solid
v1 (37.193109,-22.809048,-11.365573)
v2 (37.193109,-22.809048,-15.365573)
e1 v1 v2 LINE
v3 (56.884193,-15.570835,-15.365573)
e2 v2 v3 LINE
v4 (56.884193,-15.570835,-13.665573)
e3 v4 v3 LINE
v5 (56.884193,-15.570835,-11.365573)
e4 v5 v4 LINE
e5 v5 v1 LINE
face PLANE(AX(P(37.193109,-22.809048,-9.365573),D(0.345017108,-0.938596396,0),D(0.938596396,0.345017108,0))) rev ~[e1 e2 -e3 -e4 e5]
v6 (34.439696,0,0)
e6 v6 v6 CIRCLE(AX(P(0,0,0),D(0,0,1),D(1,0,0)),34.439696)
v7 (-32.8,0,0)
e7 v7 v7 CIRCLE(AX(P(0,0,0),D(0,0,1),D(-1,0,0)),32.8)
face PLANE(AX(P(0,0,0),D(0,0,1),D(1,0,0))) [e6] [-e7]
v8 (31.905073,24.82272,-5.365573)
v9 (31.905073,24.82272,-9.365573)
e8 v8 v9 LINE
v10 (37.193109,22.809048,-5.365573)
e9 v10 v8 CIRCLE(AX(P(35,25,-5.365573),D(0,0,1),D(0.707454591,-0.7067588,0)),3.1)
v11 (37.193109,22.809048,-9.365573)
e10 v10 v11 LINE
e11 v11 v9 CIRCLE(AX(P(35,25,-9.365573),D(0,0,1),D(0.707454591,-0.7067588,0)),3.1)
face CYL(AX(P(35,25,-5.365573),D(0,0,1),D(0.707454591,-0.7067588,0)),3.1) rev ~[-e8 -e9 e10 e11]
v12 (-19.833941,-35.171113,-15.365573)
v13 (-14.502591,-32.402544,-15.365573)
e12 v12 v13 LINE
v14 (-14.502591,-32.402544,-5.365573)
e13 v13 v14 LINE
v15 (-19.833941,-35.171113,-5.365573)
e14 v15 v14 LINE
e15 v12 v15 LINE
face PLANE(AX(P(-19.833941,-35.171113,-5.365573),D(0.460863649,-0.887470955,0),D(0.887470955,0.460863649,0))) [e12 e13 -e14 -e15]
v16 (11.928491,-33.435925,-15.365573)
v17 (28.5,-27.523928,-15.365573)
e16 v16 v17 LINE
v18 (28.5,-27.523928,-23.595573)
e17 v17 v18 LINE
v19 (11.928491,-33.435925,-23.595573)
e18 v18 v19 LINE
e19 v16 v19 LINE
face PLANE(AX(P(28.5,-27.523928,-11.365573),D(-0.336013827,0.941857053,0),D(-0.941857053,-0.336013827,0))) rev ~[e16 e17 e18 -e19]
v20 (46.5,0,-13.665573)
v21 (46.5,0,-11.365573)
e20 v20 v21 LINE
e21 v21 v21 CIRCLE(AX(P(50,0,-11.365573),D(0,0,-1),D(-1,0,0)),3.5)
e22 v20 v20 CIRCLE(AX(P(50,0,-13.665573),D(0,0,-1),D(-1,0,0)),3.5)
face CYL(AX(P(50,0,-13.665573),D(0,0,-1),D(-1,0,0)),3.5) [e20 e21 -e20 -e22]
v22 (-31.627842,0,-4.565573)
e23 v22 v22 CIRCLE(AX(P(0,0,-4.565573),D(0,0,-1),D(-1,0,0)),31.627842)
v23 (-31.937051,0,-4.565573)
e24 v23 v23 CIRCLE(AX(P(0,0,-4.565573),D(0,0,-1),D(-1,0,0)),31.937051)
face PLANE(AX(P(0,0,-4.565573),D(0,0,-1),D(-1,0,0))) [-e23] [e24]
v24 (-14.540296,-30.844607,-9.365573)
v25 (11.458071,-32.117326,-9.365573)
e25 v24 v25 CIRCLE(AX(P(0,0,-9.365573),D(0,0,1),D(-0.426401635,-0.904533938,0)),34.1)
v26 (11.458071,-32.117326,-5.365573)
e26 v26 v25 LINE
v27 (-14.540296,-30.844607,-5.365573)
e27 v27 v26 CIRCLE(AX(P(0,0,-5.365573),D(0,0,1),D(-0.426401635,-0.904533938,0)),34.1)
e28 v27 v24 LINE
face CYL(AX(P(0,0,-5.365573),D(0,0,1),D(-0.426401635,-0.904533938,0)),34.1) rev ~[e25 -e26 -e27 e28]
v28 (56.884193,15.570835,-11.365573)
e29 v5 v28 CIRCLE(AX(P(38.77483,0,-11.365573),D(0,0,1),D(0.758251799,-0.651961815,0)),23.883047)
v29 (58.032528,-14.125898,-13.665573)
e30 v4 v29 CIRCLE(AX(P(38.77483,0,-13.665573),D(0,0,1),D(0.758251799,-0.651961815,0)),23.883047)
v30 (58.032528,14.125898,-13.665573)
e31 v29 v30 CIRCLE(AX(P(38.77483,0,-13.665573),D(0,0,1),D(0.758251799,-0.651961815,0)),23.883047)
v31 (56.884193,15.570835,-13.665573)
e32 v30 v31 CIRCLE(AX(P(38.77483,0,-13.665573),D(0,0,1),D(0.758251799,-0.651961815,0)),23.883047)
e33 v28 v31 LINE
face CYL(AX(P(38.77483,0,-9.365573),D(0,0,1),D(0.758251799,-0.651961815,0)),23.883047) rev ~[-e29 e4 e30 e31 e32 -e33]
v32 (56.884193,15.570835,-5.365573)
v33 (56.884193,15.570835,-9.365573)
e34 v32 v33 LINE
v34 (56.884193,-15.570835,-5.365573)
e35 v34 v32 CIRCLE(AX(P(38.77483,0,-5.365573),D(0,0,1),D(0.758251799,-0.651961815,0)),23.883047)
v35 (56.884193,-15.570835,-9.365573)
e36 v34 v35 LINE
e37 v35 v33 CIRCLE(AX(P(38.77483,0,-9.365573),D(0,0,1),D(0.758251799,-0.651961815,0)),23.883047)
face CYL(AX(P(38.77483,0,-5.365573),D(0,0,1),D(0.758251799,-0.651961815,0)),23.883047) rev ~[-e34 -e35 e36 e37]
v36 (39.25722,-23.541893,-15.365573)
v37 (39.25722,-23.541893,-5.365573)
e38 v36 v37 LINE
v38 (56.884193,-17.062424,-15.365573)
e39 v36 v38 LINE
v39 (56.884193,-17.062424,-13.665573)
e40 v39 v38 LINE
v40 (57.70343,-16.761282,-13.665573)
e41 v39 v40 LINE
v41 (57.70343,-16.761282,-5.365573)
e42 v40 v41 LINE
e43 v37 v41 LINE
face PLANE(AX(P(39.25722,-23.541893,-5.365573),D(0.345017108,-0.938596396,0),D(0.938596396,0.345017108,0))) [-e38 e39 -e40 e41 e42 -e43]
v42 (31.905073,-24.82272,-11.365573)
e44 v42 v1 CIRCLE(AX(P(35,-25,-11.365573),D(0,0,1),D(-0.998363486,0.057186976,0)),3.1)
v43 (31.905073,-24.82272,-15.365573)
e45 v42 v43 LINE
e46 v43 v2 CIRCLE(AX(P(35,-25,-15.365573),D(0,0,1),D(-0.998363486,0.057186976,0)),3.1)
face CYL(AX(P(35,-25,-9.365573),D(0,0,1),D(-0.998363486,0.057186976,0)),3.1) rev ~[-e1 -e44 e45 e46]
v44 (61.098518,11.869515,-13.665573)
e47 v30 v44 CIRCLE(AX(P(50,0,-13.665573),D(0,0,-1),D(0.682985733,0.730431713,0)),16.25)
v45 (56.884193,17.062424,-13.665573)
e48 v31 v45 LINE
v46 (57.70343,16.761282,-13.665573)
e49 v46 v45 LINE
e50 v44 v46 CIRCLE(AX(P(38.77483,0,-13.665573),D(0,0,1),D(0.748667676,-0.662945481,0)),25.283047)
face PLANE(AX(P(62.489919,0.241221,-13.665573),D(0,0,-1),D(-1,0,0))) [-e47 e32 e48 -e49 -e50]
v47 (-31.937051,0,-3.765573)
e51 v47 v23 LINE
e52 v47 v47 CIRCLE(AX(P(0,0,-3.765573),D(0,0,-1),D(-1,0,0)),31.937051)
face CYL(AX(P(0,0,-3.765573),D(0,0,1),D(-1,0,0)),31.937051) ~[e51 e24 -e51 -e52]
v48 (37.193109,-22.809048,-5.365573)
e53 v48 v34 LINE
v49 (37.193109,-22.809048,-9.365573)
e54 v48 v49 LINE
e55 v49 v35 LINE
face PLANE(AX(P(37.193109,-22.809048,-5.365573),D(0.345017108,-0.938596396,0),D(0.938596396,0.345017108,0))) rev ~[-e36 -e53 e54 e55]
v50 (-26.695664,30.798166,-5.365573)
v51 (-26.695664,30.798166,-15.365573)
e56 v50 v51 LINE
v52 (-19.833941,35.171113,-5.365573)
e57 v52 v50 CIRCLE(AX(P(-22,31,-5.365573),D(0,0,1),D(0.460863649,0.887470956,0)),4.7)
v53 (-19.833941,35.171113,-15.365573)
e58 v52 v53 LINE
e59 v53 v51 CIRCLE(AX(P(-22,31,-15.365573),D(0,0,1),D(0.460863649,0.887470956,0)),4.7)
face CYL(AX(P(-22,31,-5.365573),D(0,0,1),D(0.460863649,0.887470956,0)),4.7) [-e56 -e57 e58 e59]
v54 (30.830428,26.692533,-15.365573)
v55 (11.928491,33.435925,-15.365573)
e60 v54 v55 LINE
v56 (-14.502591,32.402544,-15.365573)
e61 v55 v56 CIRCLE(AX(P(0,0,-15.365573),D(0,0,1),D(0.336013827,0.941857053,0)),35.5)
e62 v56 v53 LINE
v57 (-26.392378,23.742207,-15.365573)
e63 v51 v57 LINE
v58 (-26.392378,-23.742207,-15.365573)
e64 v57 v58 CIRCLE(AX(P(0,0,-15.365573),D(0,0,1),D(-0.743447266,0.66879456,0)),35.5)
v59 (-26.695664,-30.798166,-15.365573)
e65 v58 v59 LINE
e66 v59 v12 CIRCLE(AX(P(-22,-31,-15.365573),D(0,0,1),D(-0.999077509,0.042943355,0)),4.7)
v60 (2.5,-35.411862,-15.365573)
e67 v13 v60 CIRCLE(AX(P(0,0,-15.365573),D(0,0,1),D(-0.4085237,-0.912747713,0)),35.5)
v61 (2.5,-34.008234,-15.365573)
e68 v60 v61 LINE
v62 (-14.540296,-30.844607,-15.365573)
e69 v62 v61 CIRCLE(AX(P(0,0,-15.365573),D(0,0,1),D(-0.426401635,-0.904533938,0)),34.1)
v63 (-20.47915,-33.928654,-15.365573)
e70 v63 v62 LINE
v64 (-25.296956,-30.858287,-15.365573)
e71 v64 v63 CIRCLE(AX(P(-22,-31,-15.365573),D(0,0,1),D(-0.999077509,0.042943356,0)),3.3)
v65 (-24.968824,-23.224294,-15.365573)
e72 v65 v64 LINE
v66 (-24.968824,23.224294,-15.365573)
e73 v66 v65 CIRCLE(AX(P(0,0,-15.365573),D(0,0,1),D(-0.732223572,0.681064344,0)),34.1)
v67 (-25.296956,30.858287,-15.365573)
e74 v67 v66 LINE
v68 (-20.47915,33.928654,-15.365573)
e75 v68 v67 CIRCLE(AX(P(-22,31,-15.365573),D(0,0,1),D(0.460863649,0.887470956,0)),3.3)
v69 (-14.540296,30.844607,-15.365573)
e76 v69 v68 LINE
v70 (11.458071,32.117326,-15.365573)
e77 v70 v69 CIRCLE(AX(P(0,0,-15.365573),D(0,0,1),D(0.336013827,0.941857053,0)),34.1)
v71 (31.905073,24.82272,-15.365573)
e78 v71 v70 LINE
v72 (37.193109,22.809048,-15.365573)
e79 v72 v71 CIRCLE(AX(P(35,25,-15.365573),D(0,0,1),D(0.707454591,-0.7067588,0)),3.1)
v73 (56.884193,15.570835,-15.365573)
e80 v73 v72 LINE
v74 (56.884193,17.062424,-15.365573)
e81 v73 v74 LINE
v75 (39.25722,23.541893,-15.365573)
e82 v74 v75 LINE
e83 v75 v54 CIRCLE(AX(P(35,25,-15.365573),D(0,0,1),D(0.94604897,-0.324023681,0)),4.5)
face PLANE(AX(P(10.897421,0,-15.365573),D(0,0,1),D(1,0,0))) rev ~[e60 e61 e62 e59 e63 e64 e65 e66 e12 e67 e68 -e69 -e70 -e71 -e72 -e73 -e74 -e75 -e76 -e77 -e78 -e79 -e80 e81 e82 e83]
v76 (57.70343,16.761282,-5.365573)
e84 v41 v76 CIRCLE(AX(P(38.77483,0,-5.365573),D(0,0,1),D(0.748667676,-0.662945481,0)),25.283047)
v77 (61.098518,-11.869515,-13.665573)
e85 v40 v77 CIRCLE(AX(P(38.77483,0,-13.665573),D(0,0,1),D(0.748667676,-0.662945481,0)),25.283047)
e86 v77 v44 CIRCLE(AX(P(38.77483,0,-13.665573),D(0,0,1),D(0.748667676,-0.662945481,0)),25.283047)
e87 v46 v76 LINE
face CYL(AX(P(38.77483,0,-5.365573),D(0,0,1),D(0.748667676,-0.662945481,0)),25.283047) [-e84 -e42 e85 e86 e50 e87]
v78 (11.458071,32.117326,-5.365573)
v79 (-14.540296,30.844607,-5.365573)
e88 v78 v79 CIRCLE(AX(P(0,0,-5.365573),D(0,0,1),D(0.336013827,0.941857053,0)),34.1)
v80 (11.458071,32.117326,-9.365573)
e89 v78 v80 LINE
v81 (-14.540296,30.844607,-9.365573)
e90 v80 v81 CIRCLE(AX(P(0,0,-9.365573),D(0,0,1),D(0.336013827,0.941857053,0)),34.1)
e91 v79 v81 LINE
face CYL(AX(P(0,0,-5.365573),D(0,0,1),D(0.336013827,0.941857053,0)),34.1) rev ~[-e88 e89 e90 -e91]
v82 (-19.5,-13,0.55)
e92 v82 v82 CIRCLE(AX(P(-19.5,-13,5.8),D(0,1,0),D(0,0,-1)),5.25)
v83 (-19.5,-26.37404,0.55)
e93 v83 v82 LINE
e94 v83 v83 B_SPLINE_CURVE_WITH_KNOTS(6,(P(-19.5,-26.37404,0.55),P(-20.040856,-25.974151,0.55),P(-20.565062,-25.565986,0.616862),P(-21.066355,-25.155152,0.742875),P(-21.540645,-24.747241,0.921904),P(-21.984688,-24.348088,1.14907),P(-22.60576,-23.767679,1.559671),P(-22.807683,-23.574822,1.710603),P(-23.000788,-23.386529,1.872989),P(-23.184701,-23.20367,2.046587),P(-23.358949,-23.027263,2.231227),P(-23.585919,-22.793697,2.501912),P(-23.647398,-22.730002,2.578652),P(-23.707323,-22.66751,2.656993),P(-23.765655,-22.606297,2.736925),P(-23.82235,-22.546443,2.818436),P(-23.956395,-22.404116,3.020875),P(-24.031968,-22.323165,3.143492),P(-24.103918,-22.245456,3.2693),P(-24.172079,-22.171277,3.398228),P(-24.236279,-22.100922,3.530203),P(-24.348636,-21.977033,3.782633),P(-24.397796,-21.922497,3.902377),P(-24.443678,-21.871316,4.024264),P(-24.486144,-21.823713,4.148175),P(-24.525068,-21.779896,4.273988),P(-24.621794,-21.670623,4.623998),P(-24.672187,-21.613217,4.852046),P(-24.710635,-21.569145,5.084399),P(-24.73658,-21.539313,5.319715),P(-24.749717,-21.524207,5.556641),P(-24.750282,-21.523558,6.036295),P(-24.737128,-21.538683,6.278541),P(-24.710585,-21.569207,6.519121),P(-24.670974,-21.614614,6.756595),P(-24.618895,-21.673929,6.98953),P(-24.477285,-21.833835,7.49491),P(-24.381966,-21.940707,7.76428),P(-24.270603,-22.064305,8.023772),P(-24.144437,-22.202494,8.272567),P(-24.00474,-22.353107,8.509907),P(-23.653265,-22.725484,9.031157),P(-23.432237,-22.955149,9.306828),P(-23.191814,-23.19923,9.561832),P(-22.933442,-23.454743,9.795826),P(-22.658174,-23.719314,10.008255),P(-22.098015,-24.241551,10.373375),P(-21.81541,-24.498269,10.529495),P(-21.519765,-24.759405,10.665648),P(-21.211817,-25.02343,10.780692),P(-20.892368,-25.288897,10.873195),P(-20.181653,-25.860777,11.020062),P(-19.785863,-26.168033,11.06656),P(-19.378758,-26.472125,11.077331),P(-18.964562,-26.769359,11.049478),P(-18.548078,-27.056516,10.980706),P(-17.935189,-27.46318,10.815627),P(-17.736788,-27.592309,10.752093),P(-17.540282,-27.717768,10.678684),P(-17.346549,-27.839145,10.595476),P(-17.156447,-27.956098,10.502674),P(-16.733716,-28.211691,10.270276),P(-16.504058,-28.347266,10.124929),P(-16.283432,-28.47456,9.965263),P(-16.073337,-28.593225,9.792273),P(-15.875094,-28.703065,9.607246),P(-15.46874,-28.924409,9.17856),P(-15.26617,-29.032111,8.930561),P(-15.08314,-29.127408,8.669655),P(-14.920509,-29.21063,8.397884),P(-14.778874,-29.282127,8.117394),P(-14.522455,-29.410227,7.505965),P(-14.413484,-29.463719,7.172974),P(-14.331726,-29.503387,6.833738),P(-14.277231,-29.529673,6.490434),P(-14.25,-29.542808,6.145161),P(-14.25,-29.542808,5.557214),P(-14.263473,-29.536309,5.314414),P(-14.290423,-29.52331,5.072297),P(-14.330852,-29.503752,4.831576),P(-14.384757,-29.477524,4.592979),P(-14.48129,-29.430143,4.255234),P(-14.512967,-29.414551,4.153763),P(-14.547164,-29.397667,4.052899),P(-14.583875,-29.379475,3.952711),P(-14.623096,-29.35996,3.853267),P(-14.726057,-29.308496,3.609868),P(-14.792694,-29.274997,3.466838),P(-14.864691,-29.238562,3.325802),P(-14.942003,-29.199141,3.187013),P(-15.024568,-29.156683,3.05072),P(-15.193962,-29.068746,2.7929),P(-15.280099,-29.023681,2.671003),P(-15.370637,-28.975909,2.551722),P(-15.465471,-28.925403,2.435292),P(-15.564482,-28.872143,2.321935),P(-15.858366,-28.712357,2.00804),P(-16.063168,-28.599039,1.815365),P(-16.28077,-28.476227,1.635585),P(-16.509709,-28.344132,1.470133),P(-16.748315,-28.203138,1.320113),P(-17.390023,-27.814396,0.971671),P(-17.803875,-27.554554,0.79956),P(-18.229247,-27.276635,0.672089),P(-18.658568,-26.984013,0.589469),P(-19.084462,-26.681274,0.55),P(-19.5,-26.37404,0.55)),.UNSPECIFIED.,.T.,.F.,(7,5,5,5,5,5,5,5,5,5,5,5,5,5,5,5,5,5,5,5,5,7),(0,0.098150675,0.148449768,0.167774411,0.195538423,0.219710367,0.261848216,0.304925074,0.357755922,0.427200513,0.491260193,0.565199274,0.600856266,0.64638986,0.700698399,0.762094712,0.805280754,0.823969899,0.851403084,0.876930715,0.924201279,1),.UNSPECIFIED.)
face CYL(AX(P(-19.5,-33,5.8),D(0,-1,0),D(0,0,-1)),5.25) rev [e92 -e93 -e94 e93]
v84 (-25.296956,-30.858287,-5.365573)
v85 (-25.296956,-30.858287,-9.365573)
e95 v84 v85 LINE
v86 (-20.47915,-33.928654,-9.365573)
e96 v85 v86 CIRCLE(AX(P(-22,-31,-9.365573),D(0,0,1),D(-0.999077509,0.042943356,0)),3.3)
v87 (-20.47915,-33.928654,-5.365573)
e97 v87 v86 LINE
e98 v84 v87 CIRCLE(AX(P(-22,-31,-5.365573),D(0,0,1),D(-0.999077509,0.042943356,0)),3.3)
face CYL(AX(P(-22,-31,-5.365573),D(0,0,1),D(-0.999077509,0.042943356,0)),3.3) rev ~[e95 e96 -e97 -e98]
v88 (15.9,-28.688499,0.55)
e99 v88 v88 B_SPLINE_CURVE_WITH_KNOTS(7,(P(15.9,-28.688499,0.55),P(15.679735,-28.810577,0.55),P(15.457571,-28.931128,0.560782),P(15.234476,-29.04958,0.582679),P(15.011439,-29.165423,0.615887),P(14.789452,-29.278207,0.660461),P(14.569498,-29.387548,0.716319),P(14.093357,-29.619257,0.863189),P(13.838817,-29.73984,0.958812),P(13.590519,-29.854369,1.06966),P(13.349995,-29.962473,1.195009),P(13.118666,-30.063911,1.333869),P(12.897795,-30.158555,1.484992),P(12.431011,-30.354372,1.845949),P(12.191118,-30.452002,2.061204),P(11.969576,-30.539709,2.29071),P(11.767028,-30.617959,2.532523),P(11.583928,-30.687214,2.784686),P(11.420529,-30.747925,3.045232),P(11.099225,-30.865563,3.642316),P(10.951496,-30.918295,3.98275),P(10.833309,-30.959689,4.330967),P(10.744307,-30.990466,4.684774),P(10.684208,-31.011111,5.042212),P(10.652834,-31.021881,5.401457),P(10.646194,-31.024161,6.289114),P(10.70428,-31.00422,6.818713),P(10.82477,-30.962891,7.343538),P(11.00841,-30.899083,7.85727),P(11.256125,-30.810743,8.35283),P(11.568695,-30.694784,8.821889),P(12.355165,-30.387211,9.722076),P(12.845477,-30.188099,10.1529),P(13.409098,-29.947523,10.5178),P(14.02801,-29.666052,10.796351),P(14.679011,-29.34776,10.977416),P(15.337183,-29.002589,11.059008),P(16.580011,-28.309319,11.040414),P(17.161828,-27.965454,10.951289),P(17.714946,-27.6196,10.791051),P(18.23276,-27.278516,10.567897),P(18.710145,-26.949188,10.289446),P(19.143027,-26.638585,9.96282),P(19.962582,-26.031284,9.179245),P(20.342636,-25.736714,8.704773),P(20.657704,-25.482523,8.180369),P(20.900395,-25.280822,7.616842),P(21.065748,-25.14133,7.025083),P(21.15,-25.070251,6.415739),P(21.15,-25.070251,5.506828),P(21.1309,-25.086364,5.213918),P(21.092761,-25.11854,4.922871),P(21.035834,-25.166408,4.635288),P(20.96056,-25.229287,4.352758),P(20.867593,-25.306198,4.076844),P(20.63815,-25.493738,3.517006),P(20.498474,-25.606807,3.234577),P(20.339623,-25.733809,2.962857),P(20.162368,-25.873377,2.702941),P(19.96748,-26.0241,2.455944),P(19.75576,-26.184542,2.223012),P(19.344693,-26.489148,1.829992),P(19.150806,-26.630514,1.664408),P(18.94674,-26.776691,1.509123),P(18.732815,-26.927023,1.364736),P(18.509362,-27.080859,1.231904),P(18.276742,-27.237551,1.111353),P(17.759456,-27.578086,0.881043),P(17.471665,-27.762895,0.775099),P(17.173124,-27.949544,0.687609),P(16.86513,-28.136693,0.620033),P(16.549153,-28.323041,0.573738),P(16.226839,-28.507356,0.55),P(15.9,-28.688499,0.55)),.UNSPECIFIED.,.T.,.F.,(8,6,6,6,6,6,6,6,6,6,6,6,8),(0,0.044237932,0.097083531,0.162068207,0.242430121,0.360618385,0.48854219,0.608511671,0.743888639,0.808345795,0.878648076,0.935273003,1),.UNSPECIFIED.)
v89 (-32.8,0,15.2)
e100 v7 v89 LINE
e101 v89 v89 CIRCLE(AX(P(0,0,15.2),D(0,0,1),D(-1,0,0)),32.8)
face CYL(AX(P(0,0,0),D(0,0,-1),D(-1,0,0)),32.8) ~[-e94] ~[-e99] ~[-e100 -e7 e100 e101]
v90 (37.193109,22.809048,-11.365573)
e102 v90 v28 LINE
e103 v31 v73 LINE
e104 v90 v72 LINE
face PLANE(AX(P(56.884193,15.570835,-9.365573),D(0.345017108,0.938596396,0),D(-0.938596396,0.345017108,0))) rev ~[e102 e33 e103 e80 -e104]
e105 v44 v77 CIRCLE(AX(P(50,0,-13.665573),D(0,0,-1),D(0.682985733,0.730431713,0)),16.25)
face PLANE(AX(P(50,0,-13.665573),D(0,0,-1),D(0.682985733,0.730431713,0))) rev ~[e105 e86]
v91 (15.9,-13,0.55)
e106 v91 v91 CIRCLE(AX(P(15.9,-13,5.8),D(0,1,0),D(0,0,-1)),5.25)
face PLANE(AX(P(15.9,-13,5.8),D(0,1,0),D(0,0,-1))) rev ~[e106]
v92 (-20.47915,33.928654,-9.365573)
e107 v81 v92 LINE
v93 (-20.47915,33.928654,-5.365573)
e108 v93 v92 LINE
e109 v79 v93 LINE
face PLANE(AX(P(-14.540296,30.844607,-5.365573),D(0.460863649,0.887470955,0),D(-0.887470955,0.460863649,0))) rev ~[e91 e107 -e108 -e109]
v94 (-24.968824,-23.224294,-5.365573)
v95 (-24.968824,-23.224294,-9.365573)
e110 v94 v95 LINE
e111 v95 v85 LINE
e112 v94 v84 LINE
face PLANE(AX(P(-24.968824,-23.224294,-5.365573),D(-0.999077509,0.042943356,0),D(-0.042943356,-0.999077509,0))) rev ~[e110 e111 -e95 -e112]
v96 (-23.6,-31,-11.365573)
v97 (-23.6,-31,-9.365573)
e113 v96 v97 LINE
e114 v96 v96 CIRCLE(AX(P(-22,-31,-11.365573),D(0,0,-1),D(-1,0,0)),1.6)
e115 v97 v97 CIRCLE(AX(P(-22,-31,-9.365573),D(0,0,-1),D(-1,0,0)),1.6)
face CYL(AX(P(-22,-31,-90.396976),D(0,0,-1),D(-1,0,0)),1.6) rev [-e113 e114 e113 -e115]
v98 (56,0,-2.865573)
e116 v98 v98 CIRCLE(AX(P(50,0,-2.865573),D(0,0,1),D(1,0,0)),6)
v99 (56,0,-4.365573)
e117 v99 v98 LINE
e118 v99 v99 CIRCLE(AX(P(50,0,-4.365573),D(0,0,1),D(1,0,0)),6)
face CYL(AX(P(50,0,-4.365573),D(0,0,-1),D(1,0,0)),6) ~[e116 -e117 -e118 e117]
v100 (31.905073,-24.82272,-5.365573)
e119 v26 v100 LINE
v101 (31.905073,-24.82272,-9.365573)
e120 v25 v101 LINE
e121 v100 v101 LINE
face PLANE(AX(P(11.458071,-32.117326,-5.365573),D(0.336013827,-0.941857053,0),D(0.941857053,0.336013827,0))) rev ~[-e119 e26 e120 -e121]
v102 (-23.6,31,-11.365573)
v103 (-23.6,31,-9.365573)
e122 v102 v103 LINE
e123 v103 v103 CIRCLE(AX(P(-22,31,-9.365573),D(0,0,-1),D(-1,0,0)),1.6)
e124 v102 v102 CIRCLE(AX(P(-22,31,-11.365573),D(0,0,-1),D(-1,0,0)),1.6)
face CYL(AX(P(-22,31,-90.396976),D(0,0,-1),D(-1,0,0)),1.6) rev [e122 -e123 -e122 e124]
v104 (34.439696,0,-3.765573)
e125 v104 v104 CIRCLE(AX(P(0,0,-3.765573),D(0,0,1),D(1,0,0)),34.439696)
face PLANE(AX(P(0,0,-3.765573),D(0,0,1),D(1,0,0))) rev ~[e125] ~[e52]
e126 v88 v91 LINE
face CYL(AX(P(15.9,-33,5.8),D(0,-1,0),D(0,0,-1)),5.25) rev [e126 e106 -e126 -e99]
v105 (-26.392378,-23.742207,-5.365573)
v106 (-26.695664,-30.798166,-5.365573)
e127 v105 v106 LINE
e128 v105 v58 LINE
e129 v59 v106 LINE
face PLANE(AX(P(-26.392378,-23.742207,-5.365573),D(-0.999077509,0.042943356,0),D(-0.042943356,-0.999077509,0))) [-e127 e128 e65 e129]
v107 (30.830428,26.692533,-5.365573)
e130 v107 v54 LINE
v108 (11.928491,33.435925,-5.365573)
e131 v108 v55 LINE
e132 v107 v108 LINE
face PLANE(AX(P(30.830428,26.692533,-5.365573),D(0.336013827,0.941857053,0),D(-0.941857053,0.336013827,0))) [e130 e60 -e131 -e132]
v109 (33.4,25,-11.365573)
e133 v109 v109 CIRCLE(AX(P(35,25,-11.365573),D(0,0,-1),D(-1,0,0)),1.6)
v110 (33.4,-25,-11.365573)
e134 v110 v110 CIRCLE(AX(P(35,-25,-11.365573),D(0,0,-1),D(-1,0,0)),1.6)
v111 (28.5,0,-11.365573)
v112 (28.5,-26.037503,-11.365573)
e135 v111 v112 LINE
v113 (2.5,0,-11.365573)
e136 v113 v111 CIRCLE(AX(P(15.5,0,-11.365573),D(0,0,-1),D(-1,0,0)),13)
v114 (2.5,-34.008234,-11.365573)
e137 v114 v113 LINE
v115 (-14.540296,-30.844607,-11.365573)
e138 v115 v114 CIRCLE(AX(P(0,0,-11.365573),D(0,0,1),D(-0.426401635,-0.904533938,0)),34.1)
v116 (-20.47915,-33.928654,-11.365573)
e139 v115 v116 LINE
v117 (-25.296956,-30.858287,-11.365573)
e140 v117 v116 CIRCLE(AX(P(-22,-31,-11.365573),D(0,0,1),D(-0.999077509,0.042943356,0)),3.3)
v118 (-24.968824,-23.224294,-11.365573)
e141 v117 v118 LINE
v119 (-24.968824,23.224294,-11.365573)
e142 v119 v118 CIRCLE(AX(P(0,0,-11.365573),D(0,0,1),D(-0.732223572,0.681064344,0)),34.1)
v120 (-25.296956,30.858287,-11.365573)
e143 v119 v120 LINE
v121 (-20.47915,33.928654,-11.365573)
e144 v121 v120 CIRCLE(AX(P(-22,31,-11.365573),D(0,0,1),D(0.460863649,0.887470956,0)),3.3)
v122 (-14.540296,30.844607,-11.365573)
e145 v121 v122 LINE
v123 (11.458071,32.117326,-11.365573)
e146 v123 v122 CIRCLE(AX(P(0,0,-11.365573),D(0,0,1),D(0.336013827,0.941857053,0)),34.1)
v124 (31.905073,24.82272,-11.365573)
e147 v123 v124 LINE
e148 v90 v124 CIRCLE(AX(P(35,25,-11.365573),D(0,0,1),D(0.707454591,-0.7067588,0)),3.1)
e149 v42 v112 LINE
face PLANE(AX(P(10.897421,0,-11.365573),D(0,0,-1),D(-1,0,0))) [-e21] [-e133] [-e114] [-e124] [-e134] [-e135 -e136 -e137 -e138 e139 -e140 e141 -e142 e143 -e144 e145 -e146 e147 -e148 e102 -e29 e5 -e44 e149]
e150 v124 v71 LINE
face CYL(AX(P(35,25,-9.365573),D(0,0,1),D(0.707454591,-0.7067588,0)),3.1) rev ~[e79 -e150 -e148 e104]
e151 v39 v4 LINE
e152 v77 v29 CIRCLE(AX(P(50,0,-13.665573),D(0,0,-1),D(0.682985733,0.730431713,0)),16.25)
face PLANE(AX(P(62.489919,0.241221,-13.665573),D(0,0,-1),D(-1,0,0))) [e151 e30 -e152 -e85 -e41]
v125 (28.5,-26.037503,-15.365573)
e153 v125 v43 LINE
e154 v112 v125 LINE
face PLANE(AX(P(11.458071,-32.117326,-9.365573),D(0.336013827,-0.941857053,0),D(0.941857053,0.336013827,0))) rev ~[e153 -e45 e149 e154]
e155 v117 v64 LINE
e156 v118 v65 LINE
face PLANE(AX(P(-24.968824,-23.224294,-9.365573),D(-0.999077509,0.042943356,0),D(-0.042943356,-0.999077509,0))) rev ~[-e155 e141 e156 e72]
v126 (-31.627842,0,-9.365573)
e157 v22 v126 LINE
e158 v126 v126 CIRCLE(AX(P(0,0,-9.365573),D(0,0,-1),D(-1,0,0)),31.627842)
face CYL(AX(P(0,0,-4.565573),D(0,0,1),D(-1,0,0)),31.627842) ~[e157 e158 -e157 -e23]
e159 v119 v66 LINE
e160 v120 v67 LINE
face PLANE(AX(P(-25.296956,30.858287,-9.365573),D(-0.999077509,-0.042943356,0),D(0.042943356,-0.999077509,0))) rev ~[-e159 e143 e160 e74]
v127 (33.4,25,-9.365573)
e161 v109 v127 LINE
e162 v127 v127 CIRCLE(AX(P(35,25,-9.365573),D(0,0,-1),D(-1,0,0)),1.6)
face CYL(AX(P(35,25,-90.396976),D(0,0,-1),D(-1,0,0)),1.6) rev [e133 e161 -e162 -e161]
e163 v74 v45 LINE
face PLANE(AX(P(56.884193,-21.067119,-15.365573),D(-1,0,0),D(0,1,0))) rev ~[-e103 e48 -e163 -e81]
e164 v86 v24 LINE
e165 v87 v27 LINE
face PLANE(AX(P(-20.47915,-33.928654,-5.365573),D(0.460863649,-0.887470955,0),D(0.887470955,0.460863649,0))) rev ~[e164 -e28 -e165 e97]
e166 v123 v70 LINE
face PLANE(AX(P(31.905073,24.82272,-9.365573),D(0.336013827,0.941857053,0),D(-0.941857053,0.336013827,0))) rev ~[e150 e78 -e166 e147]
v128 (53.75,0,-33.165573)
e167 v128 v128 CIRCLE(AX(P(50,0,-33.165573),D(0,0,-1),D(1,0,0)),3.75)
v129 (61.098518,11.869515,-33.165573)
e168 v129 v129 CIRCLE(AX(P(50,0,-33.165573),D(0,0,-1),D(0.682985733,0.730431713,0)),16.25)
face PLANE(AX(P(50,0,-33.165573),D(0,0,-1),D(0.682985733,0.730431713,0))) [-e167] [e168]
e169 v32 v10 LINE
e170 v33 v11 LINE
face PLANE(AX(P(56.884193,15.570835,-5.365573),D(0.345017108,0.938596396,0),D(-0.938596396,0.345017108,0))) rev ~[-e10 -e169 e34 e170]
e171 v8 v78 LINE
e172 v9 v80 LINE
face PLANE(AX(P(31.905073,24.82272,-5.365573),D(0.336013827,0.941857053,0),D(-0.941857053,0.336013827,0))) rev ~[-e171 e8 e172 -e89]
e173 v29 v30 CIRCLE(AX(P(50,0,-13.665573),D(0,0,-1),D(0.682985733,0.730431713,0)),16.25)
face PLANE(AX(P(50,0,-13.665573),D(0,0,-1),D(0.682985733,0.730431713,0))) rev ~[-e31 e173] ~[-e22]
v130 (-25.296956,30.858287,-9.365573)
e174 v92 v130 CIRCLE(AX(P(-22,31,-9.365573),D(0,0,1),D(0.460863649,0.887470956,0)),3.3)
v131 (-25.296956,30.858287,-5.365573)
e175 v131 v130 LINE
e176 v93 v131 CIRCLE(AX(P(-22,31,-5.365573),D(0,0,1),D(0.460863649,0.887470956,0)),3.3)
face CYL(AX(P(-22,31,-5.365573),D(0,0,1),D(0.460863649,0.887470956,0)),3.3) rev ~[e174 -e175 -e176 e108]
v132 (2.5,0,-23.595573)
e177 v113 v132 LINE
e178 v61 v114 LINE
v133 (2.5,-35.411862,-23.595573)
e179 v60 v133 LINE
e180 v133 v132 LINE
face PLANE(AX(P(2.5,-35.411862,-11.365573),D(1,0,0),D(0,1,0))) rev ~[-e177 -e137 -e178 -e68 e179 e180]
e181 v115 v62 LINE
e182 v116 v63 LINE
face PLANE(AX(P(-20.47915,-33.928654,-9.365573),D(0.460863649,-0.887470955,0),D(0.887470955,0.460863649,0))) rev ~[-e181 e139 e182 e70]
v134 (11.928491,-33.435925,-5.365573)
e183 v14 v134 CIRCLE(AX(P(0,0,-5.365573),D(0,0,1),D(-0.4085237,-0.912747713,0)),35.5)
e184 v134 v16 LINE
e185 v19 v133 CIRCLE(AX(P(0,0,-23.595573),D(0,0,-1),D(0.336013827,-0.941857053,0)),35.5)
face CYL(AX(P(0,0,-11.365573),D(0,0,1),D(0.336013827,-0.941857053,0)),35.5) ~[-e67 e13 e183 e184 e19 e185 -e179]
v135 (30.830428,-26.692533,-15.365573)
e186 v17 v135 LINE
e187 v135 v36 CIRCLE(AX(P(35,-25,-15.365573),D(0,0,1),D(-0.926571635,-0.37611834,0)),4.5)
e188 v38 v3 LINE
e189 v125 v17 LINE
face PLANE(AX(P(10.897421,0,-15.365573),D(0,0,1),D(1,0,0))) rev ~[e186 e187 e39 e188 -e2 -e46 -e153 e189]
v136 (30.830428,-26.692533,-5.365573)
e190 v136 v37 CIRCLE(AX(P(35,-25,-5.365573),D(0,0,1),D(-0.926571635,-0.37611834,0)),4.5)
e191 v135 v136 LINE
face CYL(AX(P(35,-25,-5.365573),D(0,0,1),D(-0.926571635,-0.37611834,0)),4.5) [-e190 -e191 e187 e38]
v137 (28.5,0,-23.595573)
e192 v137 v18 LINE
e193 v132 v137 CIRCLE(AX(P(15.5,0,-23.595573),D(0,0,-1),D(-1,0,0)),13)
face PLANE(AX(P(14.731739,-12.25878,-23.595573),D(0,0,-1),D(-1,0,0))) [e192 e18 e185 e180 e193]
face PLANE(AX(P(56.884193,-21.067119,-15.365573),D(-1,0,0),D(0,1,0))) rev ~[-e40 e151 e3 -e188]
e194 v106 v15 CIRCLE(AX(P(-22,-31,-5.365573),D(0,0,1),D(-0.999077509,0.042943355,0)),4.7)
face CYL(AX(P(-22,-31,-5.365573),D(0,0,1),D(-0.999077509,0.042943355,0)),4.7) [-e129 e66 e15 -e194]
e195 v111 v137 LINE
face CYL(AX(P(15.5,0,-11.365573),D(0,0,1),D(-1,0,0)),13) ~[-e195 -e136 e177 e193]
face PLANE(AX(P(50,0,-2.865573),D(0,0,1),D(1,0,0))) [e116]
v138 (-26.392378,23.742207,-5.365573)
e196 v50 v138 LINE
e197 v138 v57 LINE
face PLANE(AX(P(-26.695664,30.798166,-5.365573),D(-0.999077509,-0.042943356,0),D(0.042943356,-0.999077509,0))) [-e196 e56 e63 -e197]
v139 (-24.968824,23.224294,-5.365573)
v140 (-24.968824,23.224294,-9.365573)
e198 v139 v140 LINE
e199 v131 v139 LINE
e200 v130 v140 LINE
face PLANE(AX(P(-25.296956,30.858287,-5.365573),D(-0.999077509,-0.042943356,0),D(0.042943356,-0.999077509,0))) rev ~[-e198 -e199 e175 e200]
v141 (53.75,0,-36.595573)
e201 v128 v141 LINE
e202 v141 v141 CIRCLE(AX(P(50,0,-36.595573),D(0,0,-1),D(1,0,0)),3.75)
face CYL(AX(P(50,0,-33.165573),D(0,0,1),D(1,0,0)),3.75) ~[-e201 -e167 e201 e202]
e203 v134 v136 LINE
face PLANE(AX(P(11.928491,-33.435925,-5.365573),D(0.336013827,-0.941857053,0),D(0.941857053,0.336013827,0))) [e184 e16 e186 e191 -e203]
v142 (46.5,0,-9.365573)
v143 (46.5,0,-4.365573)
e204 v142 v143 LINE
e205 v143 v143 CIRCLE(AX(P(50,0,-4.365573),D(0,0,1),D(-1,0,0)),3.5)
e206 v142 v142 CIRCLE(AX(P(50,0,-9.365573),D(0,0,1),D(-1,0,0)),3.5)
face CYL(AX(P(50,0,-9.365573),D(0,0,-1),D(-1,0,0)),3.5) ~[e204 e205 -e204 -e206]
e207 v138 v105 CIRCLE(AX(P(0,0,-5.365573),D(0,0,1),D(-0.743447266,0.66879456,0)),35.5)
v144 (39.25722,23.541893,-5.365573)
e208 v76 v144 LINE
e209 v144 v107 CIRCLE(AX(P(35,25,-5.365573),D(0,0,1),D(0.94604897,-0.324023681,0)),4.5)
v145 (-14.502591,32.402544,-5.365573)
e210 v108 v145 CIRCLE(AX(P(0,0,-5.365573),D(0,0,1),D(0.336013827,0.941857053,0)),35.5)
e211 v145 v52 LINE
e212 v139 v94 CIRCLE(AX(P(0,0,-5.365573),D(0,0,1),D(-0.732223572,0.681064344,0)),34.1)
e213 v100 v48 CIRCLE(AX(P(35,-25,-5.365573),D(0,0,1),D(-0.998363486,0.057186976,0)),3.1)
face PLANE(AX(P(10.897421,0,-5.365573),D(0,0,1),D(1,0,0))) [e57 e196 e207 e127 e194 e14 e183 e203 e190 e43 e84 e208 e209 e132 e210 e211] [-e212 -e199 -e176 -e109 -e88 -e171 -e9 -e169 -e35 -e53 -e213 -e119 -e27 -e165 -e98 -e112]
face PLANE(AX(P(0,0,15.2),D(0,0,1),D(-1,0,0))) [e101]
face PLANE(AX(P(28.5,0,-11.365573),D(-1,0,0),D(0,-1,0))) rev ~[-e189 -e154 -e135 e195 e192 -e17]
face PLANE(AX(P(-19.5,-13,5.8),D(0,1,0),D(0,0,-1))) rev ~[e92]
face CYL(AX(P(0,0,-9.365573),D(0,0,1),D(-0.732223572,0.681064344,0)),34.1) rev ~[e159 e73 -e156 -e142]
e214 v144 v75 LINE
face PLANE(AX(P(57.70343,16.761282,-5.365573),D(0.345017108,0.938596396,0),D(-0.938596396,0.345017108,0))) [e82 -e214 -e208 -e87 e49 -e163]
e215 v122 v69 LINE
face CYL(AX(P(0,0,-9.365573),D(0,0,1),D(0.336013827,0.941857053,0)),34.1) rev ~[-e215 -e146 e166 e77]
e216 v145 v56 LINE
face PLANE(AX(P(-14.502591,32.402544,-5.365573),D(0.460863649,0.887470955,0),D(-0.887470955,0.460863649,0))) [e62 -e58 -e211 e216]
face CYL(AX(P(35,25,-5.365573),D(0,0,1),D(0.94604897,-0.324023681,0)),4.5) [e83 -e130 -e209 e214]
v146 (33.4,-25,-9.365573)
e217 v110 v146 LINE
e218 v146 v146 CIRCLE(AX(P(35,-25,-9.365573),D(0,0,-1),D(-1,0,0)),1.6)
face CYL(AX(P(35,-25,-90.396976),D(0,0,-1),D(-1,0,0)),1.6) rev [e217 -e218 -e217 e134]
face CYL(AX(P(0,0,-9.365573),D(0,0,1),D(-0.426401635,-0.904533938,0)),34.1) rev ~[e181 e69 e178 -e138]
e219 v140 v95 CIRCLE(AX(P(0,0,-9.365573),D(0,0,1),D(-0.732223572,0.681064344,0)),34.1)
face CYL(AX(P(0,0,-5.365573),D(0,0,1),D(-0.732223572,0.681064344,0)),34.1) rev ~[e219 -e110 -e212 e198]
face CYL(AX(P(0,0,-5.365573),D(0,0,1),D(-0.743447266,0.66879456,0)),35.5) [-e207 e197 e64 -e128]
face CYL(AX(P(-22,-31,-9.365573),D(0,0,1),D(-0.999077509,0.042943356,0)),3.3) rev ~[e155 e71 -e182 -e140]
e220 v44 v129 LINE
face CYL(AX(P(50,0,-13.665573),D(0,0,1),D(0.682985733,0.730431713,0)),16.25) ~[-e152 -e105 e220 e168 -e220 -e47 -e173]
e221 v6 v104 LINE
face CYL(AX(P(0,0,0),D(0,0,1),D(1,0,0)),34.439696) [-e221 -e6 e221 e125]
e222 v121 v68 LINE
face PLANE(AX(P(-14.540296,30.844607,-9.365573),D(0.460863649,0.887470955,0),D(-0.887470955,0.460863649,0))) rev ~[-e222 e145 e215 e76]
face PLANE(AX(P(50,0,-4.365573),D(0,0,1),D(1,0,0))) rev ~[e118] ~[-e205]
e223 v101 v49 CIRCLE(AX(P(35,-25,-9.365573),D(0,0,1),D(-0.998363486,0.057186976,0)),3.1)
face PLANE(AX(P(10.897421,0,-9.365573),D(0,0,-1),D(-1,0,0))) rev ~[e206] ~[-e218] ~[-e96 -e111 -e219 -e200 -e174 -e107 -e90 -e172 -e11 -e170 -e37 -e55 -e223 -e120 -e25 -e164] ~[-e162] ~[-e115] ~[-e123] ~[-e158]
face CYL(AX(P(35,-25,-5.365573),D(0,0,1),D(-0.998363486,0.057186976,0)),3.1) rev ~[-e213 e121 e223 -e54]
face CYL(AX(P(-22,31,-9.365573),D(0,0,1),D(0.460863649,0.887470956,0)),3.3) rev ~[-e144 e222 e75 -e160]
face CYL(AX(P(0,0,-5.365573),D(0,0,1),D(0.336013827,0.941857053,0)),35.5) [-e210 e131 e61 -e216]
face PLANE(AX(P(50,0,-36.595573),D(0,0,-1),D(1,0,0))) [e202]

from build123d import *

# Parameters (mm, degrees)
SKETCH_2_R               = 32.8
EXTRUDE_1_DEPTH          = 15.2
SKETCH_5_R               = 34.43969611
EXTRUDE_2_DEPTH          = 3.765573
SKETCH_7_R               = 31.937051091
EXTRUDE_3_DEPTH          = 0.8
SKETCH_8_R               = 31.627841621
EXTRUDE_4_DEPTH          = 4.8
EXTRUDE_6_DEPTH          = 2
EXTRUDE_START            = 4
EXTRUDE_7_DEPTH          = 4
EXTRUDE_8_DEPTH          = 6
CUT_EXTRUDE_1_DEPTH      = 1.7
SKETCH_14_R              = 3.5
EXTRUDE_9_DEPTH          = 5
SKETCH_15_R              = 6
EXTRUDE_10_DEPTH         = 1.5
EXTRUDE_START_2          = 2.3
SKETCH_16_R              = 3.5
EXTRUDE_11_DEPTH         = 2.3
SKETCH_17_R              = 16.25
EXTRUDE_12_DEPTH         = 19.5
SKETCH_18_R              = 3.75
EXTRUDE_13_DEPTH         = 3.43
EXTRUDE_14_DEPTH         = 12.23
CUT_EXTRUDE_2_DEPTH      = 81.031402587
CUT_EXTRUDE_2_DEPTH_BACK = 81.031402587
SKETCH_20_R              = 1.6
SKETCH_21_R              = 5.25
CUT_EXTRUDE_3_DEPTH      = 20


with BuildPart() as part:
    # 스케치2 → 보스-돌출1 (new body)
    with BuildSketch(Plane.XY):
        with Locations(Location((0, 0, 0), (0, 0, 180))):
            Circle(SKETCH_2_R)
    extrude(amount=EXTRUDE_1_DEPTH)

    # 스케치5 → 보스-돌출2 (add)
    with BuildSketch(Plane.XY):
        Circle(SKETCH_5_R)
    extrude(amount=-EXTRUDE_2_DEPTH)

    # 스케치7 → 보스-돌출3 (add)
    with BuildSketch(Plane(origin=(0, 0, -3.765572979), x_dir=(-1, 0, 0), z_dir=(0, 0, -1))):
        Circle(SKETCH_7_R)
    extrude(amount=EXTRUDE_3_DEPTH)

    # 스케치8 → 보스-돌출4 (add)
    with BuildSketch(Plane(origin=(0, 0, -4.565572979), x_dir=(-1, 0, 0), z_dir=(0, 0, -1))):
        Circle(SKETCH_8_R)
    extrude(amount=EXTRUDE_4_DEPTH)

    # 스케치10 → 보스-돌출6 (add)
    with BuildSketch(Plane(origin=(0, 0, -9.365572979), x_dir=(-1, 0, 0), z_dir=(0, 0, -1))):
        with BuildLine():
            Line((-30.830427643, -26.692532528), (-11.928490857, -33.435925378))
            ThreePointArc((-11.928490857, -33.435925378), (1.386891377, -35.472898561), (14.502591336, -32.402543797))
            Line((14.502591336, -32.402543797), (19.833940849, -35.171113491))
            ThreePointArc((19.833940849, -35.171113491), (24.525943879, -34.963534725), (26.69566429, -30.798166229))
            Line((26.69566429, -30.798166229), (26.392377939, -23.742206863))
            ThreePointArc((26.392377939, -23.742206863), (35.5, 0), (26.392377939, 23.742206863))
            Line((26.392377939, 23.742206863), (26.69566429, 30.798166229))
            ThreePointArc((26.69566429, 30.798166229), (24.525943879, 34.963534725), (19.833940849, 35.171113491))
            Line((19.833940849, 35.171113491), (14.502591336, 32.402543797))
            ThreePointArc((14.502591336, 32.402543797), (1.386891377, 35.472898561), (-11.928490857, 33.435925378))
            Line((-11.928490857, 33.435925378), (-30.830427643, 26.692532528))
            ThreePointArc((-30.830427643, 26.692532528), (-36.575929002, 29.215026427), (-39.257220366, 23.541893434))
            Line((-39.257220366, 23.541893434), (-57.703429714, 16.761281639))
            ThreePointArc((-57.703429714, 16.761281639), (-64.057876626, 0), (-57.703429714, -16.761281639))
            Line((-57.703429714, -16.761281639), (-39.257220366, -23.541893434))
            ThreePointArc((-39.257220366, -23.541893434), (-36.575929002, -29.215026427), (-30.830427643, -26.692532528))
        make_face()
    extrude(amount=EXTRUDE_6_DEPTH)

    # 스케치12 → 보스-돌출7 (add)
    with BuildSketch(Plane.XY.offset(-9.365572979).offset(EXTRUDE_START)):
        with BuildLine():
            Line((-26.392377939, -23.742206863), (-26.69566429, -30.798166229))
            ThreePointArc((-26.69566429, -30.798166229), (-24.525943879, -34.963534725), (-19.833940849, -35.171113491))
            Line((-19.833940849, -35.171113491), (-14.502591336, -32.402543797))
            ThreePointArc((-14.502591336, -32.402543797), (-1.386891377, -35.472898561), (11.928490857, -33.435925378))
            Line((11.928490857, -33.435925378), (30.830427643, -26.692532528))
            ThreePointArc((30.830427643, -26.692532528), (36.575929002, -29.215026427), (39.257220366, -23.541893434))
            Line((39.257220366, -23.541893434), (57.703429714, -16.761281639))
            ThreePointArc((57.703429714, -16.761281639), (64.057876626, 0), (57.703429714, 16.761281639))
            Line((57.703429714, 16.761281639), (39.257220366, 23.541893434))
            ThreePointArc((39.257220366, 23.541893434), (36.575929002, 29.215026427), (30.830427643, 26.692532528))
            Line((30.830427643, 26.692532528), (11.928490857, 33.435925378))
            ThreePointArc((11.928490857, 33.435925378), (-1.386891377, 35.472898561), (-14.502591336, 32.402543797))
            Line((-14.502591336, 32.402543797), (-19.833940849, 35.171113491))
            ThreePointArc((-19.833940849, 35.171113491), (-24.525943879, 34.963534725), (-26.69566429, 30.798166229))
            Line((-26.69566429, 30.798166229), (-26.392377939, 23.742206863))
            ThreePointArc((-26.392377939, 23.742206863), (-35.5, 0), (-26.392377939, -23.742206863))
        make_face()
        with BuildLine():
            Line((-24.968823812, -23.224294122), (-25.296955778, -30.858286926))
            ThreePointArc((-25.296955778, -30.858286926), (-23.773535064, -33.78290736), (-20.479149958, -33.928654153))
            Line((-20.479149958, -33.928654153), (-14.540295767, -30.844607292))
            ThreePointArc((-14.540295767, -30.844607292), (-1.667327059, -34.059213445), (11.458071499, -32.117325504))
            Line((11.458071499, -32.117325504), (31.905073194, -24.822720374))
            ThreePointArc((31.905073194, -24.822720374), (36.103194509, -27.897060903), (37.193109232, -22.809047719))
            Line((37.193109232, -22.809047719), (56.884193028, -15.570834571))
            ThreePointArc((56.884193028, -15.570834571), (62.657876626, 0), (56.884193028, 15.570834571))
            Line((56.884193028, 15.570834571), (37.193109232, 22.809047719))
            ThreePointArc((37.193109232, 22.809047719), (36.103194509, 27.897060903), (31.905073194, 24.822720374))
            Line((31.905073194, 24.822720374), (11.458071499, 32.117325504))
            ThreePointArc((11.458071499, 32.117325504), (-1.667327059, 34.059213445), (-14.540295767, 30.844607292))
            Line((-14.540295767, 30.844607292), (-20.479149958, 33.928654153))
            ThreePointArc((-20.479149958, 33.928654153), (-23.773535064, 33.78290736), (-25.296955778, 30.858286926))
            Line((-25.296955778, 30.858286926), (-24.968823812, 23.224294122))
            ThreePointArc((-24.968823812, 23.224294122), (-34.1, 0), (-24.968823812, -23.224294122))
        make_face(mode=Mode.SUBTRACT)
    extrude(amount=-EXTRUDE_7_DEPTH)

    # 스케치12<2> → 보스-돌출8 (add)
    with BuildSketch(Plane.XY.offset(-9.365572979)):
        with BuildLine():
            Line((-26.392377939, -23.742206863), (-26.69566429, -30.798166229))
            ThreePointArc((-26.69566429, -30.798166229), (-24.525943879, -34.963534725), (-19.833940849, -35.171113491))
            Line((-19.833940849, -35.171113491), (-14.502591336, -32.402543797))
            ThreePointArc((-14.502591336, -32.402543797), (-1.386891377, -35.472898561), (11.928490857, -33.435925378))
            Line((11.928490857, -33.435925378), (30.830427643, -26.692532528))
            ThreePointArc((30.830427643, -26.692532528), (36.575929002, -29.215026427), (39.257220366, -23.541893434))
            Line((39.257220366, -23.541893434), (57.703429714, -16.761281639))
            ThreePointArc((57.703429714, -16.761281639), (64.057876626, 0), (57.703429714, 16.761281639))
            Line((57.703429714, 16.761281639), (39.257220366, 23.541893434))
            ThreePointArc((39.257220366, 23.541893434), (36.575929002, 29.215026427), (30.830427643, 26.692532528))
            Line((30.830427643, 26.692532528), (11.928490857, 33.435925378))
            ThreePointArc((11.928490857, 33.435925378), (-1.386891377, 35.472898561), (-14.502591336, 32.402543797))
            Line((-14.502591336, 32.402543797), (-19.833940849, 35.171113491))
            ThreePointArc((-19.833940849, 35.171113491), (-24.525943879, 34.963534725), (-26.69566429, 30.798166229))
            Line((-26.69566429, 30.798166229), (-26.392377939, 23.742206863))
            ThreePointArc((-26.392377939, 23.742206863), (-35.5, 0), (-26.392377939, -23.742206863))
        make_face()
        with BuildLine():
            Line((-24.968823812, -23.224294122), (-25.296955778, -30.858286926))
            ThreePointArc((-25.296955778, -30.858286926), (-23.773535064, -33.78290736), (-20.479149958, -33.928654153))
            Line((-20.479149958, -33.928654153), (-14.540295767, -30.844607292))
            ThreePointArc((-14.540295767, -30.844607292), (-1.667327059, -34.059213445), (11.458071499, -32.117325504))
            Line((11.458071499, -32.117325504), (31.905073194, -24.822720374))
            ThreePointArc((31.905073194, -24.822720374), (36.103194509, -27.897060903), (37.193109232, -22.809047719))
            Line((37.193109232, -22.809047719), (56.884193028, -15.570834571))
            ThreePointArc((56.884193028, -15.570834571), (62.657876626, 0), (56.884193028, 15.570834571))
            Line((56.884193028, 15.570834571), (37.193109232, 22.809047719))
            ThreePointArc((37.193109232, 22.809047719), (36.103194509, 27.897060903), (31.905073194, 24.822720374))
            Line((31.905073194, 24.822720374), (11.458071499, 32.117325504))
            ThreePointArc((11.458071499, 32.117325504), (-1.667327059, 34.059213445), (-14.540295767, 30.844607292))
            Line((-14.540295767, 30.844607292), (-20.479149958, 33.928654153))
            ThreePointArc((-20.479149958, 33.928654153), (-23.773535064, 33.78290736), (-25.296955778, 30.858286926))
            Line((-25.296955778, 30.858286926), (-24.968823812, 23.224294122))
            ThreePointArc((-24.968823812, 23.224294122), (-34.1, 0), (-24.968823812, -23.224294122))
        make_face(mode=Mode.SUBTRACT)
    extrude(amount=-EXTRUDE_8_DEPTH)

    # 스케치13 → 컷-돌출1 (cut)
    with BuildSketch(Plane(origin=(0, 0, -15.365572979), x_dir=(-1, 0, 0), z_dir=(0, 0, -1))):
        Polygon((-56.884193028, -15.570834571), (-56.884193028, 17.062423507), (-56.884193028, 21.549560303), (-68.095644454, 21.549560303), (-68.095644454, -21.067118875), (-56.884193028, -21.067118875), align=None)
    extrude(amount=-CUT_EXTRUDE_1_DEPTH, mode=Mode.SUBTRACT)

    # 스케치14 → 보스-돌출9 (add)
    with BuildSketch(Plane.XY.offset(-9.365572979)):
        with Locations(Location((50, 0, 0), (0, 0, 180))):
            Circle(SKETCH_14_R)
    extrude(amount=EXTRUDE_9_DEPTH)

    # 스케치15 → 보스-돌출10 (add)
    with BuildSketch(Plane.XY.offset(-4.365572979)):
        with Locations((50, 0)):
            Circle(SKETCH_15_R)
    extrude(amount=EXTRUDE_10_DEPTH)

    # 스케치16 → 보스-돌출11 (add)
    with BuildSketch(Plane(origin=(0, 0, -11.365572979), x_dir=(-1, 0, 0), z_dir=(0, 0, -1)).offset(EXTRUDE_START_2)):
        with Locations((-50, 0)):
            Circle(SKETCH_16_R)
    extrude(amount=-EXTRUDE_11_DEPTH)

    # 스케치17 → 보스-돌출12 (add)
    with BuildSketch(Plane(origin=(0, 0, -13.665572979), x_dir=(-1, 0, 0), z_dir=(0, 0, -1))):
        with Locations(Location((-50, 0, 0), (0, 0, 133.077401672))):
            Circle(SKETCH_17_R)
    extrude(amount=EXTRUDE_12_DEPTH)

    # 스케치18 → 보스-돌출13 (add)
    with BuildSketch(Plane(origin=(0, 0, -33.165572979), x_dir=(-1, 0, 0), z_dir=(0, 0, -1))):
        with Locations(Location((-50, 0, 0), (0, 0, 180))):
            Circle(SKETCH_18_R)
    extrude(amount=EXTRUDE_13_DEPTH)

    # 스케치19 → 보스-돌출14 (add)
    with BuildSketch(Plane(origin=(0, 0, -11.365572979), x_dir=(-1, 0, 0), z_dir=(0, 0, -1))):
        with BuildLine():
            Line((-28.5, 0), (-28.5, -27.523928235))
            Line((-28.5, -27.523928235), (-11.928490857, -33.435925378))
            ThreePointArc((-11.928490857, -33.435925378), (-7.281580797, -34.745195079), (-2.5, -35.411862419))
            Line((-2.5, -35.411862419), (-2.5, 0))
            ThreePointArc((-2.5, 0), (-15.5, 13), (-28.5, 0))
        make_face()
    extrude(amount=EXTRUDE_14_DEPTH)

    # 스케치20 → 컷-돌출2 (cut, two sides: drawn at the far end of the back side and taken through both)
    with BuildSketch(Plane.XY.offset(-9.365572979).offset(-CUT_EXTRUDE_2_DEPTH_BACK)):
        with Locations(Location((35, -25, 0), (0, 0, 180))):
            Circle(SKETCH_20_R)
        with Locations(Location((-22, -31, 0), (0, 0, 180))):
            Circle(SKETCH_20_R)
        with Locations(Location((35, 25, 0), (0, 0, 180))):
            Circle(SKETCH_20_R)
        with Locations(Location((-22, 31, 0), (0, 0, 180))):
            Circle(SKETCH_20_R)
    extrude(amount=CUT_EXTRUDE_2_DEPTH + CUT_EXTRUDE_2_DEPTH_BACK, mode=Mode.SUBTRACT)

    # 스케치21 → 컷-돌출3 (cut)
    with BuildSketch(Plane(origin=(0, -33, 0), x_dir=(1, 0, 0), z_dir=(0, 1, 0))):
        with Locations(Location((15.9, -5.8, 0), (0, 0, 90))):
            Circle(SKETCH_21_R)
        with Locations(Location((-19.5, -5.8, 0), (0, 0, 90))):
            Circle(SKETCH_21_R)
    extrude(amount=CUT_EXTRUDE_3_DEPTH, mode=Mode.SUBTRACT)


solid = part.part
